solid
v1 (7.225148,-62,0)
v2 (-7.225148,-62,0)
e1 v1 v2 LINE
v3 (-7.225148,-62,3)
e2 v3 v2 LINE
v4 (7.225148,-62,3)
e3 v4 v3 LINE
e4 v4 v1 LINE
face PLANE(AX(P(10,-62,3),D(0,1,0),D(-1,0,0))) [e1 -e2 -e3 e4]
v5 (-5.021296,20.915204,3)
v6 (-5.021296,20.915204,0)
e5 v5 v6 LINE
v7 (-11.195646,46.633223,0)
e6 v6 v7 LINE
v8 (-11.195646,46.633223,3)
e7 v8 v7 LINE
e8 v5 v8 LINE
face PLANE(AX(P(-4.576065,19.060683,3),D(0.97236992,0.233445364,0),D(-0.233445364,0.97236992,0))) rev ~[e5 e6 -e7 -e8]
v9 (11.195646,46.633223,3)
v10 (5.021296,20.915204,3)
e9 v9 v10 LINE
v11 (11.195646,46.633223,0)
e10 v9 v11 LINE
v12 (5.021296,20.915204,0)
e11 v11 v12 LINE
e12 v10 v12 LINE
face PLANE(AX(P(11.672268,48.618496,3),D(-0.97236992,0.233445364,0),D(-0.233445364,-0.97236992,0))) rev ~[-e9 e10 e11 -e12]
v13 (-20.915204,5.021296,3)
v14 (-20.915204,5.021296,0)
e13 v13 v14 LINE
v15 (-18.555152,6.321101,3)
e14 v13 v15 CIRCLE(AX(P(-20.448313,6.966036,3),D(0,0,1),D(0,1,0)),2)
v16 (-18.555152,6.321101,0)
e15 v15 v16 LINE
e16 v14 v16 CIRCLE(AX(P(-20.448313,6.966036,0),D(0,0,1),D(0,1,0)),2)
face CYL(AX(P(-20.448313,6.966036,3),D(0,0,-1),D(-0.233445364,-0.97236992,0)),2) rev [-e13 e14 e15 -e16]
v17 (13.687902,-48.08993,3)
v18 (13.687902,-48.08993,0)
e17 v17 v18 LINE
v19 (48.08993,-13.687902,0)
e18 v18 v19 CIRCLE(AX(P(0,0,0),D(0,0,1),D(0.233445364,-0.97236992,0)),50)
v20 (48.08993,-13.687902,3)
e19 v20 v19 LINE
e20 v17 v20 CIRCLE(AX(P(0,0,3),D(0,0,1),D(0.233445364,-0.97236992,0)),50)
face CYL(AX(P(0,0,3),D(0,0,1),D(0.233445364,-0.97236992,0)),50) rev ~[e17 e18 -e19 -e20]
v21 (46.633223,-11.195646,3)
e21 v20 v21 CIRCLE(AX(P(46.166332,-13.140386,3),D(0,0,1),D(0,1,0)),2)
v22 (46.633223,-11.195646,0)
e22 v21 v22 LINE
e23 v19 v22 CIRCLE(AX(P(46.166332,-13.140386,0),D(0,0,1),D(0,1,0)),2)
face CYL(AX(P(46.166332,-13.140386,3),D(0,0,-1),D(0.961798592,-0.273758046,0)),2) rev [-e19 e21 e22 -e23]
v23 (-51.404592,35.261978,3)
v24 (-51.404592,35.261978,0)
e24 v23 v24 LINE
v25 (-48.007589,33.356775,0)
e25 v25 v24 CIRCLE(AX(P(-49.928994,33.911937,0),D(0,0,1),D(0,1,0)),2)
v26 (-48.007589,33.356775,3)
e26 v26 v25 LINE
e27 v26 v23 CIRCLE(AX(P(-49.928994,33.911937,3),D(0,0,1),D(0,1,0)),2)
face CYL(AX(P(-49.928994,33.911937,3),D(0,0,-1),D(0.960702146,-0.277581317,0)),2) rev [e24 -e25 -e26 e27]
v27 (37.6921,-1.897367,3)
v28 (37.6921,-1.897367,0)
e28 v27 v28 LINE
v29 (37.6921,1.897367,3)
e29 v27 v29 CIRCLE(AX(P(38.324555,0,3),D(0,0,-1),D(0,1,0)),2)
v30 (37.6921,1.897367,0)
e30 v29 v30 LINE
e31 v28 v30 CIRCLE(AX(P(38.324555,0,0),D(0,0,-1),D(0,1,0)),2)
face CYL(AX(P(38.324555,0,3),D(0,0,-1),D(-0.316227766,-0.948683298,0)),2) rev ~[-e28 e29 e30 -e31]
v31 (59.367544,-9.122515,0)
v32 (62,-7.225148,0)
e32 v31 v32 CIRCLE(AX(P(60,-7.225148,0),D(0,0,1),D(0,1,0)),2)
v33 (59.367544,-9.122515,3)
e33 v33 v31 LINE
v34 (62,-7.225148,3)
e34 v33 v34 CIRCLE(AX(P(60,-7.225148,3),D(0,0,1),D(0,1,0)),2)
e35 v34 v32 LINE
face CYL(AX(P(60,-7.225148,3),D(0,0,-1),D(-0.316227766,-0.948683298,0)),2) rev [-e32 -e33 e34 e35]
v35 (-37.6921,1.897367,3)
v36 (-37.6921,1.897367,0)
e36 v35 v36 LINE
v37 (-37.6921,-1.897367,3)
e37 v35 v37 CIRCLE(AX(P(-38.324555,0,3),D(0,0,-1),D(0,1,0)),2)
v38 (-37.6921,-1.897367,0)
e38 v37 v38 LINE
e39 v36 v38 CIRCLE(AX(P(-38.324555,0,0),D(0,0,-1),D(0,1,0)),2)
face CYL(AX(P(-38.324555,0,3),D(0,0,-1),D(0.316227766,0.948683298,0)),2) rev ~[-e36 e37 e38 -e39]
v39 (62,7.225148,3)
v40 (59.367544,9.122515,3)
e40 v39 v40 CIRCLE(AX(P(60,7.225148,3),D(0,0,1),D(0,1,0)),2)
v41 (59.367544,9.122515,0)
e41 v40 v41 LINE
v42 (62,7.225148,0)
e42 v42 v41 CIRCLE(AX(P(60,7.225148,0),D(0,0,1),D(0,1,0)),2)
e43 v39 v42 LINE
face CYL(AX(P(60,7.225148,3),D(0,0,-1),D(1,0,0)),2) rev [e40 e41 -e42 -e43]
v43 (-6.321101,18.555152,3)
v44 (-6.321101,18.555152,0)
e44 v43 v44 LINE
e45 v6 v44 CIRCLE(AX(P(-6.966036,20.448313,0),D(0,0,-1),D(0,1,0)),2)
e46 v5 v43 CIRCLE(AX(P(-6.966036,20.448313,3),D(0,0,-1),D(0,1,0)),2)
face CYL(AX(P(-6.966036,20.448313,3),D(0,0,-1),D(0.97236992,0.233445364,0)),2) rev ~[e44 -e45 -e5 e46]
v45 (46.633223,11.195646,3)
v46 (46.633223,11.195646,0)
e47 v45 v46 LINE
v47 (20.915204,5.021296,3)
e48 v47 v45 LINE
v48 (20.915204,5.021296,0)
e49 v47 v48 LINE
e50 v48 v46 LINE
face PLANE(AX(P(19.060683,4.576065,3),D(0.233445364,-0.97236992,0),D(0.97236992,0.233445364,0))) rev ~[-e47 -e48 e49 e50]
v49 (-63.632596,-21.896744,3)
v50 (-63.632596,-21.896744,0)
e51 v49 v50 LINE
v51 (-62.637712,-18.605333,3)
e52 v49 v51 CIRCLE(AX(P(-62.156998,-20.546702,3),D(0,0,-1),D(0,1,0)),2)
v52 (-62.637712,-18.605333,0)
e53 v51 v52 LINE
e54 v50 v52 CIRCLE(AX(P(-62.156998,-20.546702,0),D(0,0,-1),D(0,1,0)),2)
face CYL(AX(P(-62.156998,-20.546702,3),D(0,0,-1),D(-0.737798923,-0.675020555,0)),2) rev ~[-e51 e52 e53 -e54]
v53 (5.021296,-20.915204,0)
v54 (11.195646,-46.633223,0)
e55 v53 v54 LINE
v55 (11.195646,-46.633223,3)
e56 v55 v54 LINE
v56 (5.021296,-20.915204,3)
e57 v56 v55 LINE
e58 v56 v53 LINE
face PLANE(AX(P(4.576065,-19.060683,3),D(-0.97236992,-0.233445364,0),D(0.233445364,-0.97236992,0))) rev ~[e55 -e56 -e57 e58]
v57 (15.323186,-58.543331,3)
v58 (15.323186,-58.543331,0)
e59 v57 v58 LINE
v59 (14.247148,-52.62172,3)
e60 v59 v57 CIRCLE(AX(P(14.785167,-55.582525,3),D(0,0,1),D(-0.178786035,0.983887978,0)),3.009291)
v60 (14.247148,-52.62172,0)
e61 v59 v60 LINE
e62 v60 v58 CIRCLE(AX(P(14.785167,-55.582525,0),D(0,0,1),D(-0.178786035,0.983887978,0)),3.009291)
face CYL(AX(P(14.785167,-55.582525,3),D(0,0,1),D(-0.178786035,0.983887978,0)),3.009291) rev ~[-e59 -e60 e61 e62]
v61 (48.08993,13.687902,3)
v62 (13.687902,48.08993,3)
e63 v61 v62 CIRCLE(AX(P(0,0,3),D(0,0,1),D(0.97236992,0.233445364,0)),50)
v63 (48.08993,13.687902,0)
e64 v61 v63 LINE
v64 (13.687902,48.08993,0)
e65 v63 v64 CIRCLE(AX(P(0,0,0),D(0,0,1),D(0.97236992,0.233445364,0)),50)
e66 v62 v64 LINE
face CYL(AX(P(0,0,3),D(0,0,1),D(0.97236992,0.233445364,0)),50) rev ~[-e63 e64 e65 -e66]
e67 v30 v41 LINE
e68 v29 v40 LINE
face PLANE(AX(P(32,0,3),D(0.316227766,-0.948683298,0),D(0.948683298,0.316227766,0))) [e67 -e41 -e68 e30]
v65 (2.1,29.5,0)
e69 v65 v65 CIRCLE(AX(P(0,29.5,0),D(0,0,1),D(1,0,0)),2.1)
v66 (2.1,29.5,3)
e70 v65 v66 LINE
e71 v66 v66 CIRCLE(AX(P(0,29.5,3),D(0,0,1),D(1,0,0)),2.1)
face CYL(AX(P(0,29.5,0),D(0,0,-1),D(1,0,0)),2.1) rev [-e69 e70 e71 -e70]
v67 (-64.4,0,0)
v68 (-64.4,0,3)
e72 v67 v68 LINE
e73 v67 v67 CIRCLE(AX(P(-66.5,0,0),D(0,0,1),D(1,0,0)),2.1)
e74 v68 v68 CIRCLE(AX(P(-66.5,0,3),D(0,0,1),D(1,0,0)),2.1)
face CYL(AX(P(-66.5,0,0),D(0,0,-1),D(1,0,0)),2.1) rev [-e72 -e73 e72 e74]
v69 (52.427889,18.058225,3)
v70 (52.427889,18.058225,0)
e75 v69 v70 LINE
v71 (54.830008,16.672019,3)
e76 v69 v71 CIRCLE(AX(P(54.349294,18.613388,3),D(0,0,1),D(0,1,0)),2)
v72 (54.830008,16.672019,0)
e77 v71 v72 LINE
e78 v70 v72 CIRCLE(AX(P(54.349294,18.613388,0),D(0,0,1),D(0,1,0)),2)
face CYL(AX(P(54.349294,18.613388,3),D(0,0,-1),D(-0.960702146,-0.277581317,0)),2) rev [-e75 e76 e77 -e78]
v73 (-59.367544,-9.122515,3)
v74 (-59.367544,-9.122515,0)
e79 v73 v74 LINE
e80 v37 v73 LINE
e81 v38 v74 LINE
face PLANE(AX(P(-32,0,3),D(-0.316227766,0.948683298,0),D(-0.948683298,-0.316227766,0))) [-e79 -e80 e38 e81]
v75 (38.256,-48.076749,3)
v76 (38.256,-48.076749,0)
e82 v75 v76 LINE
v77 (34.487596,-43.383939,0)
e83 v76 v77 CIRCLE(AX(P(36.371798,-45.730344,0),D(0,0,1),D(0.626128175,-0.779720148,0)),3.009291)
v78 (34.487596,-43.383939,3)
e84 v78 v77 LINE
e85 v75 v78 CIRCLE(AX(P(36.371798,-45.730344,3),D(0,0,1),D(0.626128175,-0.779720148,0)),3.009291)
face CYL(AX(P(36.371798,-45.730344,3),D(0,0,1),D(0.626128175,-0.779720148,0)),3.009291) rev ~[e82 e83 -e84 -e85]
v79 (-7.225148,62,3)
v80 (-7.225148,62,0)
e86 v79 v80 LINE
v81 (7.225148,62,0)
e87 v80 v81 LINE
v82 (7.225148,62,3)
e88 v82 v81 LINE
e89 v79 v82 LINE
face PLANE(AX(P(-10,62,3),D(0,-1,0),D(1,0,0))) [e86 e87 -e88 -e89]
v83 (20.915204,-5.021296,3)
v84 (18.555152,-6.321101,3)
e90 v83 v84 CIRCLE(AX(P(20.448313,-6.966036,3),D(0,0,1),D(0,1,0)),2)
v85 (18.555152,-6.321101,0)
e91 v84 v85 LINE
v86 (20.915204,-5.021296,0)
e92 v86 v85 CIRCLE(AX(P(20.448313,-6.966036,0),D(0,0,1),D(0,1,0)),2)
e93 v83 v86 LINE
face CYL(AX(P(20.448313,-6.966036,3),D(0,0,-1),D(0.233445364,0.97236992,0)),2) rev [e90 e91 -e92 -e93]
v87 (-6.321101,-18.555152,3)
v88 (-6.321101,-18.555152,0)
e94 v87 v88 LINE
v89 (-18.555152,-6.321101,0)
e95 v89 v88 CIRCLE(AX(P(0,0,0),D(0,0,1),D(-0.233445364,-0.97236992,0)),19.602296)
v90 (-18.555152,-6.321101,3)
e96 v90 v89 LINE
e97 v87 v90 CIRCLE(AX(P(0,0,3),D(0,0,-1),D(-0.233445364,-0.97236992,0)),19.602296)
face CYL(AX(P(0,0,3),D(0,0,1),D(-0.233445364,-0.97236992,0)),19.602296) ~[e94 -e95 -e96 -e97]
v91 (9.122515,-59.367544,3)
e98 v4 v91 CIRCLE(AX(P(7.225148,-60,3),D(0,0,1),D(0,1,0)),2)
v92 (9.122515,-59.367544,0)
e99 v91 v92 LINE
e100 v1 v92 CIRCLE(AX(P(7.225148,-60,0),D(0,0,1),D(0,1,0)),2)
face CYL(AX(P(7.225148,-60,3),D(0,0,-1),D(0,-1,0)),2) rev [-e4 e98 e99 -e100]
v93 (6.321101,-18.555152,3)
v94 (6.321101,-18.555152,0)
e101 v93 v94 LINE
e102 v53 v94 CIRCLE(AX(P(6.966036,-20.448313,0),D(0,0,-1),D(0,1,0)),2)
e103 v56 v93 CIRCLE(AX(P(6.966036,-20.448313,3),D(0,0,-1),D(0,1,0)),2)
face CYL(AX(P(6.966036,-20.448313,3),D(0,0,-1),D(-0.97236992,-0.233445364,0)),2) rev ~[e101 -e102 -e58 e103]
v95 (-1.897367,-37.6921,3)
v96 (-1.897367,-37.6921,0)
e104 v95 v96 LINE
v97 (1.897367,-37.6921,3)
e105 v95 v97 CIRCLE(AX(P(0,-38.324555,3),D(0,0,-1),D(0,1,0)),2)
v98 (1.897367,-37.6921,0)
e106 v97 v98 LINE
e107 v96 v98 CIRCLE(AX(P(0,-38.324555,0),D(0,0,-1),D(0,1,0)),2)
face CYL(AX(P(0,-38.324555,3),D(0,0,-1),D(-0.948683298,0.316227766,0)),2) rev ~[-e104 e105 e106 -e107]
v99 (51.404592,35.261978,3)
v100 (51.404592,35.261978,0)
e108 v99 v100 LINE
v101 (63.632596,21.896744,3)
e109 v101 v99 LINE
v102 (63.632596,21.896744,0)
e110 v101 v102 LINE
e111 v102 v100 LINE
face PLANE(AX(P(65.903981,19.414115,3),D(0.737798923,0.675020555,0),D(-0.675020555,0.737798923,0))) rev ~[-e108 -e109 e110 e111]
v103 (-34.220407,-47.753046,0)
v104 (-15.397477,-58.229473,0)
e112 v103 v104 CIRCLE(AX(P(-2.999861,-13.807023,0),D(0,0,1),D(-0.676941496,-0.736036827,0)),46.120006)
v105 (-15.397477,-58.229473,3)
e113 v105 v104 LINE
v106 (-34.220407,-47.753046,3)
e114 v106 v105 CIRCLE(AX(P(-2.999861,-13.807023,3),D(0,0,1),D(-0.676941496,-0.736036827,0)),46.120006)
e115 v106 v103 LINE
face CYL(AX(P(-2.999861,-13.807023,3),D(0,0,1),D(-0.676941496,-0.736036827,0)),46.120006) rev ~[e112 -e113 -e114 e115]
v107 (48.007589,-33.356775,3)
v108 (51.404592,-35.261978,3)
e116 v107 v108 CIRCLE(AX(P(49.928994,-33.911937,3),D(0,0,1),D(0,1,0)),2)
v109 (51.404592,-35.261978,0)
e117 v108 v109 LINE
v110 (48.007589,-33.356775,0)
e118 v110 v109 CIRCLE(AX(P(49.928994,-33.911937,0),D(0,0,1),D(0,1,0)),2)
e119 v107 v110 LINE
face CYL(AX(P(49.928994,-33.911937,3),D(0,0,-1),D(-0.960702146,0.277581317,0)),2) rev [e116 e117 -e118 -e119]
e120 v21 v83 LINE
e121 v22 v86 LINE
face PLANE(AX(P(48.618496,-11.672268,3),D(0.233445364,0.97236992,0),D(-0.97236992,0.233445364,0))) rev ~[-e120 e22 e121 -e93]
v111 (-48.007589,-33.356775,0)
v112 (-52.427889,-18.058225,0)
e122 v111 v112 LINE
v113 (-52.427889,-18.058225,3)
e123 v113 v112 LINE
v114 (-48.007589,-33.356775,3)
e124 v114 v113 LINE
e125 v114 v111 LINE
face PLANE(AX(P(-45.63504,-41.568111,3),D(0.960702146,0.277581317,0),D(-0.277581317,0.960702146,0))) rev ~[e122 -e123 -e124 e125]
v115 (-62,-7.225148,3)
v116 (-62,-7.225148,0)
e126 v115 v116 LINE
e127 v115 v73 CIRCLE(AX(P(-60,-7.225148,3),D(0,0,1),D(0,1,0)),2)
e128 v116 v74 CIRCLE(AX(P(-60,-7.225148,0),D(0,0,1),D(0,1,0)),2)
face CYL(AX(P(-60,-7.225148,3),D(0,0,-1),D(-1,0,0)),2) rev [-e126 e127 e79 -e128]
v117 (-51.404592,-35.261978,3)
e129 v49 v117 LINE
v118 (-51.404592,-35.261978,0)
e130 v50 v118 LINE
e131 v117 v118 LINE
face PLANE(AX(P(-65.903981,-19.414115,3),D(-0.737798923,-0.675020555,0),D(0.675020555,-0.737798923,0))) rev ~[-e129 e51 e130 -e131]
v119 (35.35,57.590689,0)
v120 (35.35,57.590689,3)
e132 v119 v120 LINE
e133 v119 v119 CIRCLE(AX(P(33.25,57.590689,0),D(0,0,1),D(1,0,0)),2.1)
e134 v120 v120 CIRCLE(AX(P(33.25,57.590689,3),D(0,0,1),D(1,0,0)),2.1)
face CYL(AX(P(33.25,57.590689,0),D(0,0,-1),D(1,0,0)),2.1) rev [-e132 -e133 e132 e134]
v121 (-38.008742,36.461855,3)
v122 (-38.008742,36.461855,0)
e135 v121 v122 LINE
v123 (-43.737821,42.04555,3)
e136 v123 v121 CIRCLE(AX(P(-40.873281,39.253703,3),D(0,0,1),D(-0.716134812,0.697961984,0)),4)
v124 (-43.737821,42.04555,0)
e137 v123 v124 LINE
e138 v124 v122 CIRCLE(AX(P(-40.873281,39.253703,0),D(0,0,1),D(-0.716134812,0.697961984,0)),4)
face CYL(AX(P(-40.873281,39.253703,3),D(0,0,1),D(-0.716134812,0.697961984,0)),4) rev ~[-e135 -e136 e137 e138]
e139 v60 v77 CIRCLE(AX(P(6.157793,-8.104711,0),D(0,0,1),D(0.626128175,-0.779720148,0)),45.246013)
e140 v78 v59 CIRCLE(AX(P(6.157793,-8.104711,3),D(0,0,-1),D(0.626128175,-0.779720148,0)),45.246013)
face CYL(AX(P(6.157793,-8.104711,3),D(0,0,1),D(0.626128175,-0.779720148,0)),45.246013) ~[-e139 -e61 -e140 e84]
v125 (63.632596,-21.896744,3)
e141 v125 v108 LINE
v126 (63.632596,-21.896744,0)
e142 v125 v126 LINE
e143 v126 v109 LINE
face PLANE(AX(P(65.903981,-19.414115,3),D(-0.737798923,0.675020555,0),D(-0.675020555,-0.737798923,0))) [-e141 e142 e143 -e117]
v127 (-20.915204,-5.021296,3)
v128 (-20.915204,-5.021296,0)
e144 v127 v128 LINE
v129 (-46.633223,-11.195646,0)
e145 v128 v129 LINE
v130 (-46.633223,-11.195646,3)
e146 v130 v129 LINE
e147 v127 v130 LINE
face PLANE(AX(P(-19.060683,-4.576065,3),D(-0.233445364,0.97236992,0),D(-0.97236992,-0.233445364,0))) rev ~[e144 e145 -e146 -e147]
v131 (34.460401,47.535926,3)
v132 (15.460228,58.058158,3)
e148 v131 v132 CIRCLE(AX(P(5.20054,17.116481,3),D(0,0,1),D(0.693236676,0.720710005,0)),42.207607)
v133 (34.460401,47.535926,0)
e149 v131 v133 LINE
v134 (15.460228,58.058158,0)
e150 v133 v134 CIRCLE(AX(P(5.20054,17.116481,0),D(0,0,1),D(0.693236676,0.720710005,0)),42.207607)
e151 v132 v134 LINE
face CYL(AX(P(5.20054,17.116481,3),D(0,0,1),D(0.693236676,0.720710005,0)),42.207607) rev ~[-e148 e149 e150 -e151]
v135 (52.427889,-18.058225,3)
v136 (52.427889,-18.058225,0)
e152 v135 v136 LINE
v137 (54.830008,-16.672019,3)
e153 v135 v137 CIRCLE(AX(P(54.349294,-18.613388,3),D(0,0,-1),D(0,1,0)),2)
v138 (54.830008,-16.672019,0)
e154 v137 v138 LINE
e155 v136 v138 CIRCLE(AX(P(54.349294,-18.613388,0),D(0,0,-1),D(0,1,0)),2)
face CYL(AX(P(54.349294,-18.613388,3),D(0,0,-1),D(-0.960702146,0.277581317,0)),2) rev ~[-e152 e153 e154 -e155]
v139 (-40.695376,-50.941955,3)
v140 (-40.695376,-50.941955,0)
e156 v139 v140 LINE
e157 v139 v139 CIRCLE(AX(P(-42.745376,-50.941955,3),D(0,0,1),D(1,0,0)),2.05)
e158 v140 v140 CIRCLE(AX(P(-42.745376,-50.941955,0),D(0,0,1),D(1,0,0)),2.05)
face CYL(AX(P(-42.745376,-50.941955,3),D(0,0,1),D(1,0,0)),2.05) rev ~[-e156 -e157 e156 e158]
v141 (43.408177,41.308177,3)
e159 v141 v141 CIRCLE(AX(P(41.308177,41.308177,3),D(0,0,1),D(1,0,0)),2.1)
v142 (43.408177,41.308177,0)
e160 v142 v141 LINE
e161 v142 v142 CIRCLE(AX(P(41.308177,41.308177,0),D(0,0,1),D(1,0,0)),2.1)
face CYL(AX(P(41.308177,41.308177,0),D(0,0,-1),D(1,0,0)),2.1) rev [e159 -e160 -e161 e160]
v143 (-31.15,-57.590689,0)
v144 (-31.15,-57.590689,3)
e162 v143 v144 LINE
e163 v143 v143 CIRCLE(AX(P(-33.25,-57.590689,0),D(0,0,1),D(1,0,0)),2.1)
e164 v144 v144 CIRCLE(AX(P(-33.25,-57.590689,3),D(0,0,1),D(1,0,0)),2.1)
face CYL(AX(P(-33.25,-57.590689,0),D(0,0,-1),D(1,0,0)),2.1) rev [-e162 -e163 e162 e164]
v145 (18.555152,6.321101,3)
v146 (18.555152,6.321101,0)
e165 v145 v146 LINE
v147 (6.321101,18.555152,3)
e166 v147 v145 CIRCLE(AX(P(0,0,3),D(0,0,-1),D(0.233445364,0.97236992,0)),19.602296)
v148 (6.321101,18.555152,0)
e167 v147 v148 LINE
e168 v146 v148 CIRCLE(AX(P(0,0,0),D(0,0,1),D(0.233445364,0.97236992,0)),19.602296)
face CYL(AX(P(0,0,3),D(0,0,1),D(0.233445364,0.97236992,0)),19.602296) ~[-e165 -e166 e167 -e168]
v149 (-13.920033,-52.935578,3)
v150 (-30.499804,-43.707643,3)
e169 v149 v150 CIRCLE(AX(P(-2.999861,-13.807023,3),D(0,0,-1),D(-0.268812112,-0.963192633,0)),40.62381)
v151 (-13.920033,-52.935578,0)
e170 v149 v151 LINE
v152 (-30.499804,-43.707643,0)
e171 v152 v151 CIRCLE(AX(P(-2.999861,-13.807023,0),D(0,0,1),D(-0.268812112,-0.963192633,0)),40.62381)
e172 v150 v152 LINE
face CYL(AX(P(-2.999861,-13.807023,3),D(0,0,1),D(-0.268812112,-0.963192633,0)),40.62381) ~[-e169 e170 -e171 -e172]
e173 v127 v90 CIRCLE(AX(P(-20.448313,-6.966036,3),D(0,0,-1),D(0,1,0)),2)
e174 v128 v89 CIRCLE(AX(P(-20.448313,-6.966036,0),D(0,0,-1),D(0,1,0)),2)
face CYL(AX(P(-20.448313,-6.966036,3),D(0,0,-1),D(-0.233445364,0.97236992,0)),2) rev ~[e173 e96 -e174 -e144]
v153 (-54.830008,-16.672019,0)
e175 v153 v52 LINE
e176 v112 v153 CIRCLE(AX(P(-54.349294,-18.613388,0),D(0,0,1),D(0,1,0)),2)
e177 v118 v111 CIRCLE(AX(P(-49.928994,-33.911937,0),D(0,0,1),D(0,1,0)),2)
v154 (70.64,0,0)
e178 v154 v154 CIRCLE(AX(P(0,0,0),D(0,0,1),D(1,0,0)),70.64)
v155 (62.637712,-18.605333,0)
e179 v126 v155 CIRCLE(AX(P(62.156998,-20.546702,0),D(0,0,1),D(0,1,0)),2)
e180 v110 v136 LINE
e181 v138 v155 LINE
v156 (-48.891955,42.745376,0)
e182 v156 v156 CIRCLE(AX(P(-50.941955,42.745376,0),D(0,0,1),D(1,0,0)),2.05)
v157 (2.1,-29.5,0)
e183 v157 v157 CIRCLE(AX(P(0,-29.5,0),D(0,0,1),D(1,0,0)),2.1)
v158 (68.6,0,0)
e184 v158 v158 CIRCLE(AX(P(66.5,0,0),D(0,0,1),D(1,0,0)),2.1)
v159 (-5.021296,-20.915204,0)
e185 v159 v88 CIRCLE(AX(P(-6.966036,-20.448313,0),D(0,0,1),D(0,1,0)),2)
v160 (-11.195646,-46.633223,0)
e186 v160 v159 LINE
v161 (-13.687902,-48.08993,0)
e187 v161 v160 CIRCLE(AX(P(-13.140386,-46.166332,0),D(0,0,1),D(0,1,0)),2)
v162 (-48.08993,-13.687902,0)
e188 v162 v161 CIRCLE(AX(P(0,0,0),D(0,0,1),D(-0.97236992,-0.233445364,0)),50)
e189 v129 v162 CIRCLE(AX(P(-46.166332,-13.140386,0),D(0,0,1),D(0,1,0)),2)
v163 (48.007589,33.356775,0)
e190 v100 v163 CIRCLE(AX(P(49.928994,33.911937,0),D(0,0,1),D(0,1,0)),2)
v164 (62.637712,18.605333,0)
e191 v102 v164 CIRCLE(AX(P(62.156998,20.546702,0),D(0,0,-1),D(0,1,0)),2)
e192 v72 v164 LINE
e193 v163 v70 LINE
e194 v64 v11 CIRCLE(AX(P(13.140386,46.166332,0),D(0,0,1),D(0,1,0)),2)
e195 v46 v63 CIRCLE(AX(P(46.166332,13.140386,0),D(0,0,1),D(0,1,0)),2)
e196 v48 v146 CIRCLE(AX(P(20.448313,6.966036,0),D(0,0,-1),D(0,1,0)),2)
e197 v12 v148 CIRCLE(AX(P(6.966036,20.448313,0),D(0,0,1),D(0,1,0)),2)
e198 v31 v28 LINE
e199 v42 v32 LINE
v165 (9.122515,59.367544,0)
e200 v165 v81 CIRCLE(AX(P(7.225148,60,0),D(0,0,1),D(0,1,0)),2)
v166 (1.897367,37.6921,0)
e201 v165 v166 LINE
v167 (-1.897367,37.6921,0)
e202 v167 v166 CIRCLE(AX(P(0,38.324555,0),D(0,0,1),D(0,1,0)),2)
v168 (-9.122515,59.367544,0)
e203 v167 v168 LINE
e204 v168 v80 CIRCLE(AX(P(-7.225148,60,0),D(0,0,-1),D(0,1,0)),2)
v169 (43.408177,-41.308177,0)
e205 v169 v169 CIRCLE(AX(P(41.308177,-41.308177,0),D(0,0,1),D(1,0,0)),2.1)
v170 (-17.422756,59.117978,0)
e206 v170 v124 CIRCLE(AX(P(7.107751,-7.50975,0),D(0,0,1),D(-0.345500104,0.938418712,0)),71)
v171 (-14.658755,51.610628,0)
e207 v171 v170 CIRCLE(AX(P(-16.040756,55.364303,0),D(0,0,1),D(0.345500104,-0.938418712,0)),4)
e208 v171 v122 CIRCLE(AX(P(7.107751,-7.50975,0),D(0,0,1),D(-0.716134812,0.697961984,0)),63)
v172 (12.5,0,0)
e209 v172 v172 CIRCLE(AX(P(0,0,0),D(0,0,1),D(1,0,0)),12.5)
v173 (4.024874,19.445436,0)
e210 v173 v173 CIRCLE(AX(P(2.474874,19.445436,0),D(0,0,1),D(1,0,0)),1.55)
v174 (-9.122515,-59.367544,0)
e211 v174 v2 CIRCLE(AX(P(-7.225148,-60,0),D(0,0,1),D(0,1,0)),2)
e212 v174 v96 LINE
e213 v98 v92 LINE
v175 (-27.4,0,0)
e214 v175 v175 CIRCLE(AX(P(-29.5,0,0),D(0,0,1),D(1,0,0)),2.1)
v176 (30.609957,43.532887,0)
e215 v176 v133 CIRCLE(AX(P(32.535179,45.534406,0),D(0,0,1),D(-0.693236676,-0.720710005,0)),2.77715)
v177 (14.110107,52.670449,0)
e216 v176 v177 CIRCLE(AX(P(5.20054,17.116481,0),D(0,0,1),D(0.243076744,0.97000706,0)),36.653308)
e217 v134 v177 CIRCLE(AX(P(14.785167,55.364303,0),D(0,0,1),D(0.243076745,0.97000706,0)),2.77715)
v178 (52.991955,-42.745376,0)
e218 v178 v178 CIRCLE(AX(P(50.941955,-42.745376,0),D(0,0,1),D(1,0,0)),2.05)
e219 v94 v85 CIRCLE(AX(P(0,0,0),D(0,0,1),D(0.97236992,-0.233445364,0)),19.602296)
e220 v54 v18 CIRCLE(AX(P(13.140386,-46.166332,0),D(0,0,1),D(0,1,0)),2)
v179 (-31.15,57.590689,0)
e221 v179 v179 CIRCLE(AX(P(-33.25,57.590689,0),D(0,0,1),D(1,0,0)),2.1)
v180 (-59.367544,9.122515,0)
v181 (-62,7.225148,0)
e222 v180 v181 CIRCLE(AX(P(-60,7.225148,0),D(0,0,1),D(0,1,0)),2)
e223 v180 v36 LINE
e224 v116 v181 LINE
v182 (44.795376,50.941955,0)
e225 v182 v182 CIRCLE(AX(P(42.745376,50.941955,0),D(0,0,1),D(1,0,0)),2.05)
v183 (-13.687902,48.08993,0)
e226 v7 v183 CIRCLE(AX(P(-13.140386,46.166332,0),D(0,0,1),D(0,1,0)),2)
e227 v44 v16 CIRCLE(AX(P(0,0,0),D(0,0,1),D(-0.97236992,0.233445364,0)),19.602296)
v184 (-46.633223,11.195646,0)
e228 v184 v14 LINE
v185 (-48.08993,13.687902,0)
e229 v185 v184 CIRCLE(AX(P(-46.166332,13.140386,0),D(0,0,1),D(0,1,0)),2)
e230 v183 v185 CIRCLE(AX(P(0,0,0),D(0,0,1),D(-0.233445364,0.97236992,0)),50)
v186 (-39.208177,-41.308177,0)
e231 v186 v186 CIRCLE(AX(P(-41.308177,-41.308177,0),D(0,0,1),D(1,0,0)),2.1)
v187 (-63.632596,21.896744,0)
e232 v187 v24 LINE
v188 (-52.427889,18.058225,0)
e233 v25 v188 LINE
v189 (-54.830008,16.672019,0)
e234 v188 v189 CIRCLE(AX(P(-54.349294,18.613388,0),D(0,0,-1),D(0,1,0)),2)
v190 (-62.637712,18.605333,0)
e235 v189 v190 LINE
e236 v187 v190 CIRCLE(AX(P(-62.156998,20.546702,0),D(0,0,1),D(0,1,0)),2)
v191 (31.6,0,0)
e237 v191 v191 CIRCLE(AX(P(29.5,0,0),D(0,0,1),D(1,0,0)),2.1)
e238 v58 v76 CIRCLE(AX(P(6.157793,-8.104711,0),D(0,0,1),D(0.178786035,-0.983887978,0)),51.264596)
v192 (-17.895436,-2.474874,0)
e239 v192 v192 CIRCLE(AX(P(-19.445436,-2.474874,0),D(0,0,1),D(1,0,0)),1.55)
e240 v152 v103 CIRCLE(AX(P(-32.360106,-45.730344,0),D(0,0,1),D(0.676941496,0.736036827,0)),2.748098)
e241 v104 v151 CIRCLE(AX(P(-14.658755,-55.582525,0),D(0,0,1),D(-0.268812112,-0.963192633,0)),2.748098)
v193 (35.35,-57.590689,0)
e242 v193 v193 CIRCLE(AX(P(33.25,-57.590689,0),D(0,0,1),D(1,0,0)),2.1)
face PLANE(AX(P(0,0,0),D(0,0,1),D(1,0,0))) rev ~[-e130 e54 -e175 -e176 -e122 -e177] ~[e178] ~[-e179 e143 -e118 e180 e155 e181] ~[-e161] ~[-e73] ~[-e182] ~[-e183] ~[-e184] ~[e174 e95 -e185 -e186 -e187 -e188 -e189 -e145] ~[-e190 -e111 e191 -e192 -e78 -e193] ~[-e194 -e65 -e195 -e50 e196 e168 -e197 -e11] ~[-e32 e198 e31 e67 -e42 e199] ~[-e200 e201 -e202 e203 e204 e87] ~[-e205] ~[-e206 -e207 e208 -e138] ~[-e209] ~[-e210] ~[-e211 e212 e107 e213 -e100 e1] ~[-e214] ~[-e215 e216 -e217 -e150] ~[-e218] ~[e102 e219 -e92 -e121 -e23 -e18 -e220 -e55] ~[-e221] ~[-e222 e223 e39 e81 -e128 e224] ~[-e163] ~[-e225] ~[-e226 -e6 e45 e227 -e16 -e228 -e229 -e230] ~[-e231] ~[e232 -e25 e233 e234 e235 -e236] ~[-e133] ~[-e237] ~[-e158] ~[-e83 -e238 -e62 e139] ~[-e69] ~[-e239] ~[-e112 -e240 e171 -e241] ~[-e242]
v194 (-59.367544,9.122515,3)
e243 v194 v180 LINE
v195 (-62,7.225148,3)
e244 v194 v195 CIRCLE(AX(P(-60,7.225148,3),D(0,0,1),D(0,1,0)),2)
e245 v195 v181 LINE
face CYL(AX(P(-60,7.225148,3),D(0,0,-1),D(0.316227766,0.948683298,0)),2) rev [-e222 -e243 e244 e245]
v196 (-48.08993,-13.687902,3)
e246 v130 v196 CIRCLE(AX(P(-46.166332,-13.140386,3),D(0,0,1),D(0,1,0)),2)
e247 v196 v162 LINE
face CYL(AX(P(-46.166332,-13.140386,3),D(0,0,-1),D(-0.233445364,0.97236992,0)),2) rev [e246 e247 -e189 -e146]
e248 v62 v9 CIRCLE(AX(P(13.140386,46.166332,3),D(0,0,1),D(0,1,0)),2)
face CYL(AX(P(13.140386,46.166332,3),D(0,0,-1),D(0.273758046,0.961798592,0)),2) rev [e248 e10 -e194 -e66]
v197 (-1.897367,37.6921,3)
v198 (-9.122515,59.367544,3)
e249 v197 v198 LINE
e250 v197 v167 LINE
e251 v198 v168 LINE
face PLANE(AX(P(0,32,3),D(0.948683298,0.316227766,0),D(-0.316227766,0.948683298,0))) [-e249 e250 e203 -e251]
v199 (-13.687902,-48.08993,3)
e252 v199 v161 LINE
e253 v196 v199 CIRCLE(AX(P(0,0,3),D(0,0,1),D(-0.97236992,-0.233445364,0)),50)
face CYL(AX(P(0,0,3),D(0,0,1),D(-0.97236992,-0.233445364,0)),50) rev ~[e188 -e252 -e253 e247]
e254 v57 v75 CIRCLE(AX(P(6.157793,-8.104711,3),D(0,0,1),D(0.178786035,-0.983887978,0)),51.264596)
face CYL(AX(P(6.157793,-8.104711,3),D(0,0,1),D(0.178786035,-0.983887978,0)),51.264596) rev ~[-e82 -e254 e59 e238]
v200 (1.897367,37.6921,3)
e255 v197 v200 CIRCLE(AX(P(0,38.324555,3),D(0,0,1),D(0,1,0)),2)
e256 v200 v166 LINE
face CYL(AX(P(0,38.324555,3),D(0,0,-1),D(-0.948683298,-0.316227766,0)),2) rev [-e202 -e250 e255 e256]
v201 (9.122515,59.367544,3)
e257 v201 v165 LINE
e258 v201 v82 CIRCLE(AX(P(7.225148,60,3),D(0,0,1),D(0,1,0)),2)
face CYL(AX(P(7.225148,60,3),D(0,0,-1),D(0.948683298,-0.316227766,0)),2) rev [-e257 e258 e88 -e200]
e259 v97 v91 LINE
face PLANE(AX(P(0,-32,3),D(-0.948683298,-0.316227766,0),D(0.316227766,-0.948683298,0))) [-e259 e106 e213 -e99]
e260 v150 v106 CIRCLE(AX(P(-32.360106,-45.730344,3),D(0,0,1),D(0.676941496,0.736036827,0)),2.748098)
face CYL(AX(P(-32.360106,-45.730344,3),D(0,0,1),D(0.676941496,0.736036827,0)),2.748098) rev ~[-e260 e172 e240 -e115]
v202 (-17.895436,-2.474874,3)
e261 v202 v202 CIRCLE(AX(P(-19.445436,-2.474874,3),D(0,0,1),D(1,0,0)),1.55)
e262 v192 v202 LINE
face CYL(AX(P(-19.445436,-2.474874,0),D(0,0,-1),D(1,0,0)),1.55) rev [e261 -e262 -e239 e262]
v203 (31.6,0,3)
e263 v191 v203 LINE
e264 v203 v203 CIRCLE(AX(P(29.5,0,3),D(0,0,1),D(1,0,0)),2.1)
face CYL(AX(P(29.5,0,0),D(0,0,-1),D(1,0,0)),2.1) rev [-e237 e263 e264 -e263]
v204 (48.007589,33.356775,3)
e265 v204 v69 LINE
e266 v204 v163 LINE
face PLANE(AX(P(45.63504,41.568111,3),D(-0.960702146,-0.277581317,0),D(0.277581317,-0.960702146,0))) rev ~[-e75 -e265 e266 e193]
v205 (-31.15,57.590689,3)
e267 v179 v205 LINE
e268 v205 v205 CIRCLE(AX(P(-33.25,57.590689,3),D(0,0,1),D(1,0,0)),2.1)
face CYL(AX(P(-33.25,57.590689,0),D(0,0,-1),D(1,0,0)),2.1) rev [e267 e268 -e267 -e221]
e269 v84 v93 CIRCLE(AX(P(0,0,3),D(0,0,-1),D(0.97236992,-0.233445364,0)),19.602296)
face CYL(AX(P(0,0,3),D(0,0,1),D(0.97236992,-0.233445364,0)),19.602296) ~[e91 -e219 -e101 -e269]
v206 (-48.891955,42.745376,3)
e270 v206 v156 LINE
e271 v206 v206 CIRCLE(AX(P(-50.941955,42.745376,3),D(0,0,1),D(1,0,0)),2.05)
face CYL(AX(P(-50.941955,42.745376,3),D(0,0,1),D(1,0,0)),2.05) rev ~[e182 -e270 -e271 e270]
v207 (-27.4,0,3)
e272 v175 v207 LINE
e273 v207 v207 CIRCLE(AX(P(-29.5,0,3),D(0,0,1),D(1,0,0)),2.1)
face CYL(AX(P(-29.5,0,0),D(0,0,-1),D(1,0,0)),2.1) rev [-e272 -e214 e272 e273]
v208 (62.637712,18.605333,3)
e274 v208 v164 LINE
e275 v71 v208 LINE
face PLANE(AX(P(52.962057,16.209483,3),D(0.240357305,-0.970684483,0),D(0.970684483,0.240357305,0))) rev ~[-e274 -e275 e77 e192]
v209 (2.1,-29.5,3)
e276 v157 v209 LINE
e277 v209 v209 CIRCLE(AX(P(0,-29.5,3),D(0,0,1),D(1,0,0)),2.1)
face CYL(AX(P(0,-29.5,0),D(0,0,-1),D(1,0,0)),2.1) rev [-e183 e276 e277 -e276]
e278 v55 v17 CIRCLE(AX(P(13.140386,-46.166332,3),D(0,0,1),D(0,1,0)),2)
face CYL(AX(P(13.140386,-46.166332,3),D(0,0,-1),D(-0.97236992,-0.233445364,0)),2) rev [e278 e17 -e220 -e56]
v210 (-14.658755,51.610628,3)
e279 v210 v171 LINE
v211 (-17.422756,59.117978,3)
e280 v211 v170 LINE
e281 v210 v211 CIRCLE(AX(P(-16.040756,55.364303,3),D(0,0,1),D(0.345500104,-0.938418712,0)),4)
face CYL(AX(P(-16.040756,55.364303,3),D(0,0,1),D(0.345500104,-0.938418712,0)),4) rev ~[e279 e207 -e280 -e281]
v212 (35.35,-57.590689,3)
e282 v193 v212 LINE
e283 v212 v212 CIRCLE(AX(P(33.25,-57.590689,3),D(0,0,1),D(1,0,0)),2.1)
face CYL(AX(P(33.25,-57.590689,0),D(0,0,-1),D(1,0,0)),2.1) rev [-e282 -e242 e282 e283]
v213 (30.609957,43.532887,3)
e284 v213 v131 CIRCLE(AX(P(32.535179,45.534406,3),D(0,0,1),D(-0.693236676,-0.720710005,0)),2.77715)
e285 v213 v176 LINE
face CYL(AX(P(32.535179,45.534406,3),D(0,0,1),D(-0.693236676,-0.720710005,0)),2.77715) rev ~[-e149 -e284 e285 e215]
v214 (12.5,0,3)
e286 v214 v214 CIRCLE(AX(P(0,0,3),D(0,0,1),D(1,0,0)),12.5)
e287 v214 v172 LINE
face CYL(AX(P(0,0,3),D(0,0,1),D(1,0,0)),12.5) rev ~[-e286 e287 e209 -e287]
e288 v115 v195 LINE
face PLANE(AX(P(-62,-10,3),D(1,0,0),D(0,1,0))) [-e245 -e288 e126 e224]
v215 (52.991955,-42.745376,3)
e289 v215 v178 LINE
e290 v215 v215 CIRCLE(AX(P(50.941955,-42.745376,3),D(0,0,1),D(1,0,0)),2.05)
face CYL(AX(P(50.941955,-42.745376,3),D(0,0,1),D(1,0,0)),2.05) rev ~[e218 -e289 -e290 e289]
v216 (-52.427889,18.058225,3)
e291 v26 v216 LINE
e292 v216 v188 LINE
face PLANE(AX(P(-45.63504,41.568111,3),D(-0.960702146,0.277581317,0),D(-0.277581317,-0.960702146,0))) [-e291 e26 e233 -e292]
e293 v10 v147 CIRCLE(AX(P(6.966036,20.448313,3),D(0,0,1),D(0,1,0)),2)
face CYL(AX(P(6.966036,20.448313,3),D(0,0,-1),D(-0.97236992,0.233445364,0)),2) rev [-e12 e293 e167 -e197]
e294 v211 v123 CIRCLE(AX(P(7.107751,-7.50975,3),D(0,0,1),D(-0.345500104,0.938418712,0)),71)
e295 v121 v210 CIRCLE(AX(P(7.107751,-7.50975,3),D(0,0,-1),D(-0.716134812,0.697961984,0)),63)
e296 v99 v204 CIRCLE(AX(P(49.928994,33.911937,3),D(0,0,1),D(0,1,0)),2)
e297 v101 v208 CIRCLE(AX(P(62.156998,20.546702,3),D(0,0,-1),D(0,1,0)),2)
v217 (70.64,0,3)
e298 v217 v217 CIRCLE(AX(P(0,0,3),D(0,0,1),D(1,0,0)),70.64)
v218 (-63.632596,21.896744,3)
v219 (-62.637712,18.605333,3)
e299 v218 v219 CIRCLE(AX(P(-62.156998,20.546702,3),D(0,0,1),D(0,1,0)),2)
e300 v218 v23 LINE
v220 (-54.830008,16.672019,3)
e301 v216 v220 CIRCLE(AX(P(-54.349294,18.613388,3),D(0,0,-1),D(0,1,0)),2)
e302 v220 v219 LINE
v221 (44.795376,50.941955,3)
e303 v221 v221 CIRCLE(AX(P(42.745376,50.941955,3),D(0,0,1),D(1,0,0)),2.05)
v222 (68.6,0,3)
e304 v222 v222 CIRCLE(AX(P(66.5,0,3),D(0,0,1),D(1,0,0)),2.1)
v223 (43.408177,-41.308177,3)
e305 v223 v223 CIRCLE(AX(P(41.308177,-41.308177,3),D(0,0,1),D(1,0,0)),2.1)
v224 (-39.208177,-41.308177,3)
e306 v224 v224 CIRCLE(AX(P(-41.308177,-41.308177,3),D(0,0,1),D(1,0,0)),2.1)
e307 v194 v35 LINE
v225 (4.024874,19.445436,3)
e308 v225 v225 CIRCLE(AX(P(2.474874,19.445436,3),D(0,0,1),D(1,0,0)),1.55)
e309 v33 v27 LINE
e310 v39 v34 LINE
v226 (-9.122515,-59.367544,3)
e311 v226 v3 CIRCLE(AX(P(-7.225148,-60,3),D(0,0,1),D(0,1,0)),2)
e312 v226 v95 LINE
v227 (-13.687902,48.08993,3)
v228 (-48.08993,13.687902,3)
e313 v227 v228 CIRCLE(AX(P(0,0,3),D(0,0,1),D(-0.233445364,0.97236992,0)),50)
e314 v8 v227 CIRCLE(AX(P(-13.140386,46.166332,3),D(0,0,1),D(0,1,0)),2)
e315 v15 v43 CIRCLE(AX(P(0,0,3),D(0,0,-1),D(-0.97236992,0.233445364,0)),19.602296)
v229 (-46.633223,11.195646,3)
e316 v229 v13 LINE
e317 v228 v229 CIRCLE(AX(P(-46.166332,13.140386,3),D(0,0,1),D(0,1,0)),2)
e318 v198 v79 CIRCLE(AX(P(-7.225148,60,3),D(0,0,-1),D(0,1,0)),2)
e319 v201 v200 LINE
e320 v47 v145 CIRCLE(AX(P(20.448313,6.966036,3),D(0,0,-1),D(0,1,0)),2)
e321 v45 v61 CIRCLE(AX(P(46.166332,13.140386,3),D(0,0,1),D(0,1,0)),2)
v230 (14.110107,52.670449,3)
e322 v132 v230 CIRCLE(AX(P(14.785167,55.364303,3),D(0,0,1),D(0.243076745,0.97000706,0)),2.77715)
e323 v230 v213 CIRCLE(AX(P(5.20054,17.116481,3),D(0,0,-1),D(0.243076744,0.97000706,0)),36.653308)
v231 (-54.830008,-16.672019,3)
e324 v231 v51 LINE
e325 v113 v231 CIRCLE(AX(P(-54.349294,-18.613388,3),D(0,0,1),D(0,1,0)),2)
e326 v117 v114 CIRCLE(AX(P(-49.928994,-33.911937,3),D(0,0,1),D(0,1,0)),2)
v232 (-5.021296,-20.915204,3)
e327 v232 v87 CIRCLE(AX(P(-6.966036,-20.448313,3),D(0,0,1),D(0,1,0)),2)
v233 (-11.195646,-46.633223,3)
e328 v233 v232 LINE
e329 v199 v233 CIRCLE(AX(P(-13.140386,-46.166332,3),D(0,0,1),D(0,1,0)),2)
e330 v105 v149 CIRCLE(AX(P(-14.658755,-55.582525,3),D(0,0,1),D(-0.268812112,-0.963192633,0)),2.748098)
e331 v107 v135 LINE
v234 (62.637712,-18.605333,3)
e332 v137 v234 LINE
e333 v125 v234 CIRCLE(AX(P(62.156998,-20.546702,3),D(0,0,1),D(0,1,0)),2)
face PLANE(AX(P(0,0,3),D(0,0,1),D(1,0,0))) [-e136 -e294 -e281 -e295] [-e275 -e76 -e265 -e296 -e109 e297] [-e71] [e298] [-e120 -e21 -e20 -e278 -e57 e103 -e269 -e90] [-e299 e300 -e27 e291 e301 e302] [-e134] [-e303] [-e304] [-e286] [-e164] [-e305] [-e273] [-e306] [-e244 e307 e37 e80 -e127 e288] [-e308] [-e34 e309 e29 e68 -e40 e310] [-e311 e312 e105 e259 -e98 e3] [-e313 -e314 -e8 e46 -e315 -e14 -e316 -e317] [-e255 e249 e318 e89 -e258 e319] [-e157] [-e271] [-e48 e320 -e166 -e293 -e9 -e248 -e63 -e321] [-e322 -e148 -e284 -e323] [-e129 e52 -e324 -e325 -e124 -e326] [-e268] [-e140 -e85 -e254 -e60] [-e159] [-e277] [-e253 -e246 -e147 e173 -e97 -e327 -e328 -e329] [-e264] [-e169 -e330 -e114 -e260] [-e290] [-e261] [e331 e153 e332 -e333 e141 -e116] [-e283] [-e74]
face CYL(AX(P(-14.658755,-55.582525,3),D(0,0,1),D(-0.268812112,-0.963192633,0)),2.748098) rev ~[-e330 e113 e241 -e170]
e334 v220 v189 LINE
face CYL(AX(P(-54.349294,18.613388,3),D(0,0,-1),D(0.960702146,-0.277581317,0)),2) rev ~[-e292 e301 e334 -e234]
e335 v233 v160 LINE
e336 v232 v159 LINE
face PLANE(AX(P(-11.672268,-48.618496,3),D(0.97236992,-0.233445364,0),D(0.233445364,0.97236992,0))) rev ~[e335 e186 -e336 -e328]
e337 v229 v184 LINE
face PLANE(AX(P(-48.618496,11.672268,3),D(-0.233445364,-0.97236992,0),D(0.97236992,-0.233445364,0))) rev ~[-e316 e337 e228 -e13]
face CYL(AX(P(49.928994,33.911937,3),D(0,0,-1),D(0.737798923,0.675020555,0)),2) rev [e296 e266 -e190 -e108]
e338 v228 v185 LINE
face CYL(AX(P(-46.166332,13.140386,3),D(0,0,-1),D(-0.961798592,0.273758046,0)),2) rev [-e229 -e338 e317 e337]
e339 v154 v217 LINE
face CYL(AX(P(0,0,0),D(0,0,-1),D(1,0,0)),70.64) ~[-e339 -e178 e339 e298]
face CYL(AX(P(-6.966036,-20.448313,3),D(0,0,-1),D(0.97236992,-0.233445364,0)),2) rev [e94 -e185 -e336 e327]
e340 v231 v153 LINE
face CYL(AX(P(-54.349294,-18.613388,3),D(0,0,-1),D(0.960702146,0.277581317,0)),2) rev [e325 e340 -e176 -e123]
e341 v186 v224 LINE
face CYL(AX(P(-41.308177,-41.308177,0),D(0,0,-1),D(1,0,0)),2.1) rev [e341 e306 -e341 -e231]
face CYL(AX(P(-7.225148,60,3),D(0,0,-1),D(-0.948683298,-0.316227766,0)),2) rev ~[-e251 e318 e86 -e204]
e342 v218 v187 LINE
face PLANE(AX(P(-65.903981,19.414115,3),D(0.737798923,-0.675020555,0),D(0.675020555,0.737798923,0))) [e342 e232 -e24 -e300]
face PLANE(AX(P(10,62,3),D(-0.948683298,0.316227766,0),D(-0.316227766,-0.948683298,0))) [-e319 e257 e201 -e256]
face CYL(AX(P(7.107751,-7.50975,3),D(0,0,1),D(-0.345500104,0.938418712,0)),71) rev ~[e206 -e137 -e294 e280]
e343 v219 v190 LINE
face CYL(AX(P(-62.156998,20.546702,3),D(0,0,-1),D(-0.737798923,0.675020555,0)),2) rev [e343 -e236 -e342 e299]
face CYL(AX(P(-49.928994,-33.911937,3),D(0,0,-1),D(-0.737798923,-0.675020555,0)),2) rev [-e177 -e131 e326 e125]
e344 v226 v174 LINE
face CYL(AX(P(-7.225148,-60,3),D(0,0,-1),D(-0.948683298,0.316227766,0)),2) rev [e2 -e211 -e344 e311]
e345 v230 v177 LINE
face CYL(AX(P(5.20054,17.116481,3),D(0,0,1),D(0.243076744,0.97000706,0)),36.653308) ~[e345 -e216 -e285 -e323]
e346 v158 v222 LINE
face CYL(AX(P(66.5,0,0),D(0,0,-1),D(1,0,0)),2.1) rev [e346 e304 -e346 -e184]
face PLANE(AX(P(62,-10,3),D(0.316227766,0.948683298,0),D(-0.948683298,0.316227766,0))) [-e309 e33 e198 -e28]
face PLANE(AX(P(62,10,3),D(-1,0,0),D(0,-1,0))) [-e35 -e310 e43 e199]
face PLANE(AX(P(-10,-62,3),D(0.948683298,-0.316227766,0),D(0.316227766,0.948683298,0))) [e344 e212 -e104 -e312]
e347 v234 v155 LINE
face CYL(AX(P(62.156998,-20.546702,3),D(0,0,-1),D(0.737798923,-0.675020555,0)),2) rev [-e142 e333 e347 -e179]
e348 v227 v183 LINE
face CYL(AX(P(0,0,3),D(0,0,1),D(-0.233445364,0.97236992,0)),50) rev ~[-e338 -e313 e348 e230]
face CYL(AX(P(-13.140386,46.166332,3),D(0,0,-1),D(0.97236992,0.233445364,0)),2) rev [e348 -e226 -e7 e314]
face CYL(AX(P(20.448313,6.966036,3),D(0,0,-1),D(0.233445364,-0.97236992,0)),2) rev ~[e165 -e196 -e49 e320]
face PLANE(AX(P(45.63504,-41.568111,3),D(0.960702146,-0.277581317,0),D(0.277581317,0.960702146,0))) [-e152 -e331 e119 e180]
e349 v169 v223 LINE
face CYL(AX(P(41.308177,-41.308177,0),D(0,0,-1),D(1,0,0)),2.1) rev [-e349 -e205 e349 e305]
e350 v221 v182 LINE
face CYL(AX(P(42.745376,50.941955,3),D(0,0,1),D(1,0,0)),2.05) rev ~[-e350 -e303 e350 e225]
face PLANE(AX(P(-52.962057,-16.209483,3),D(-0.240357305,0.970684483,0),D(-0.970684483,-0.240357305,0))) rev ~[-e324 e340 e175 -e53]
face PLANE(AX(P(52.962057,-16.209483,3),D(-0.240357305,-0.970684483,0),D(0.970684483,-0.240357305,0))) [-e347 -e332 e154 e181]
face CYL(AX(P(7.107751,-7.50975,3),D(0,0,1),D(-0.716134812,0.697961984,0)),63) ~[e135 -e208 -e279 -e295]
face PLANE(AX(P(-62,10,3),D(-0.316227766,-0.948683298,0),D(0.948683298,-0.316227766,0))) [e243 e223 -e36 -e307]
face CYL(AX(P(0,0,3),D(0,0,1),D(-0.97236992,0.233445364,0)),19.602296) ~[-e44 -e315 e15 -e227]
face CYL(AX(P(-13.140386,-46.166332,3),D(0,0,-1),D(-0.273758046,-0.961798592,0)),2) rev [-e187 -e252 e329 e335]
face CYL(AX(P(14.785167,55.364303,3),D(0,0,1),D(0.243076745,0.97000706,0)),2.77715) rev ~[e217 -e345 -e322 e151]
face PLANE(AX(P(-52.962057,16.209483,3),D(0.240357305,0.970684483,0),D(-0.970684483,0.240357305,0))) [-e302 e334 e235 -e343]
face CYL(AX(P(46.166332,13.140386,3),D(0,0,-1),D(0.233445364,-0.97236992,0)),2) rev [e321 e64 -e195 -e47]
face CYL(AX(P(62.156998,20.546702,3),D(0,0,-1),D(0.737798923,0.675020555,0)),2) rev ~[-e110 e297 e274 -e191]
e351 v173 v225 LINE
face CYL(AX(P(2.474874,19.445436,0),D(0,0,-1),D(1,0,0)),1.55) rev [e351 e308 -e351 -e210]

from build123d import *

# Parameters (mm, degrees)
SKETCH_1_R          = 70.64
SKETCH_1_R_2        = 2.1
SKETCH_1_R_3        = 1.55
EXTRUDE_1_DEPTH     = 3
SKETCH_2_R          = 12.5
CUT_EXTRUDE_1_DEPTH = 100.945080919
SKETCH_5_R          = 2.05
CUT_EXTRUDE_2_DEPTH = 100.945080919
CUT_EXTRUDE_3_DEPTH = 100.945080919
FILLET_1_R          = 2
CUT_EXTRUDE_4_DEPTH = 100.945080919


with BuildPart() as part:
    # 草图1 → 凸台-拉伸1 (new body)
    with BuildSketch(Plane.XY):
        Circle(SKETCH_1_R)
        with Locations((41.308177097, 41.308177097)):
            Circle(SKETCH_1_R_2, mode=Mode.SUBTRACT)
        with Locations((33.25, 57.590689352)):
            Circle(SKETCH_1_R_2, mode=Mode.SUBTRACT)
        with Locations((66.5, 0)):
            Circle(SKETCH_1_R_2, mode=Mode.SUBTRACT)
        with Locations((33.25, -57.590689352)):
            Circle(SKETCH_1_R_2, mode=Mode.SUBTRACT)
        with Locations((-33.25, -57.590689352)):
            Circle(SKETCH_1_R_2, mode=Mode.SUBTRACT)
        with Locations((-66.5, 0)):
            Circle(SKETCH_1_R_2, mode=Mode.SUBTRACT)
        with Locations((-33.25, 57.590689352)):
            Circle(SKETCH_1_R_2, mode=Mode.SUBTRACT)
        with Locations((41.308177097, -41.308177097)):
            Circle(SKETCH_1_R_2, mode=Mode.SUBTRACT)
        with Locations((-41.308177097, -41.308177097)):
            Circle(SKETCH_1_R_2, mode=Mode.SUBTRACT)
        with Locations((0, -29.5)):
            Circle(SKETCH_1_R_2, mode=Mode.SUBTRACT)
        with Locations((-29.5, 0)):
            Circle(SKETCH_1_R_2, mode=Mode.SUBTRACT)
        with Locations((0, 29.5)):
            Circle(SKETCH_1_R_2, mode=Mode.SUBTRACT)
        with Locations((29.5, 0)):
            Circle(SKETCH_1_R_2, mode=Mode.SUBTRACT)
        with Locations((2.474873734, 19.445436483)):
            Circle(SKETCH_1_R_3, mode=Mode.SUBTRACT)
        with Locations((-19.445436483, -2.474873734)):
            Circle(SKETCH_1_R_3, mode=Mode.SUBTRACT)
    extrude(amount=EXTRUDE_1_DEPTH)

    # 草图2 → 切除-拉伸1 (cut, through all)
    with BuildSketch(Plane.XY.offset(3)):
        Circle(SKETCH_2_R)
    extrude(amount=-CUT_EXTRUDE_1_DEPTH, mode=Mode.SUBTRACT)

    # 草图5 → 切除-拉伸2 (cut, through all)
    with BuildSketch(Plane.XY.offset(3)):
        with Locations((-50.941955467, 42.745376044)):
            Circle(SKETCH_5_R)
        with Locations((42.745376044, 50.941955467)):
            Circle(SKETCH_5_R)
        with Locations((50.941955467, -42.745376044)):
            Circle(SKETCH_5_R)
        with Locations((-42.745376044, -50.941955467)):
            Circle(SKETCH_5_R)
    extrude(amount=-CUT_EXTRUDE_2_DEPTH, mode=Mode.SUBTRACT)

    # 草图6 → 切除-拉伸3 (cut, through all)
    with BuildSketch(Plane.XY.offset(3)):
        with BuildLine():
            Line((-4.576065072, 19.060682791), (-11.672268193, 48.61849602))
            ThreePointArc((-11.672268193, 48.61849602), (-35.355339059, 35.355339059), (-48.61849602, 11.672268193))
            Line((-48.61849602, 11.672268193), (-19.060682791, 4.576065072))
            ThreePointArc((-19.060682791, 4.576065072), (-13.860916276, 13.860916276), (-4.576065072, 19.060682791))
        make_face()
        with BuildLine():
            Line((19.060682791, 4.576065072), (48.61849602, 11.672268193))
            ThreePointArc((48.61849602, 11.672268193), (35.355339059, 35.355339059), (11.672268193, 48.61849602))
            Line((11.672268193, 48.61849602), (4.576065072, 19.060682791))
            ThreePointArc((4.576065072, 19.060682791), (13.860916276, 13.860916276), (19.060682791, 4.576065072))
        make_face()
        with BuildLine():
            Line((4.576065072, -19.060682791), (11.672268193, -48.61849602))
            ThreePointArc((11.672268193, -48.61849602), (35.355339059, -35.355339059), (48.61849602, -11.672268193))
            Line((48.61849602, -11.672268193), (19.060682791, -4.576065072))
            ThreePointArc((19.060682791, -4.576065072), (13.860916276, -13.860916276), (4.576065072, -19.060682791))
        make_face()
        with BuildLine():
            Line((-19.060682791, -4.576065072), (-48.61849602, -11.672268193))
            ThreePointArc((-48.61849602, -11.672268193), (-35.355339059, -35.355339059), (-11.672268193, -48.61849602))
            Line((-11.672268193, -48.61849602), (-4.576065072, -19.060682791))
            ThreePointArc((-4.576065072, -19.060682791), (-13.860916276, -13.860916276), (-19.060682791, -4.576065072))
        make_face()
        Polygon((-10, 62), (10, 62), (0, 32), align=None)
        Polygon((32, 0), (62, 10), (62, -10), align=None)
        Polygon((0, -32), (10, -62), (-10, -62), align=None)
        Polygon((-32, 0), (-62, -10), (-62, 10), align=None)
        Polygon((52.962057119, -16.209483435), (65.903980805, -19.41411476), (45.635039833, -41.568110983), align=None)
        Polygon((65.903980805, 19.41411476), (45.635039833, 41.568110983), (52.962057119, 16.209483435), align=None)
        Polygon((-52.962057119, 16.209483435), (-65.903980805, 19.41411476), (-45.635039833, 41.568110983), align=None)
        Polygon((-65.903980805, -19.41411476), (-45.635039833, -41.568110983), (-52.962057119, -16.209483435), align=None)
    extrude(amount=-CUT_EXTRUDE_3_DEPTH, mode=Mode.SUBTRACT)

    # 圆角1
    fillet_1_edges = [part.edges().sort_by_distance(p)[0] for p in [
        (45.635039833, -41.568110983, 1.5),
        (52.962057119, -16.209483435, 1.5),
        (65.903980805, -19.41411476, 1.5),
        (65.903980805, 19.41411476, 1.5),
        (52.962057119, 16.209483435, 1.5),
        (45.635039833, 41.568110983, 1.5),
        (62, 10, 1.5),
        (62, -10, 1.5),
        (32, 0, 1.5),
        (10, -62, 1.5),
        (-10, -62, 1.5),
        (0, -32, 1.5),
        (-19.060682791, -4.576065072, 1.5),
        (-4.576065072, -19.060682791, 1.5),
        (-11.672268193, -48.61849602, 1.5),
        (-48.61849602, -11.672268193, 1.5),
        (4.576065072, -19.060682791, 1.5),
        (19.060682791, -4.576065072, 1.5),
        (48.61849602, -11.672268193, 1.5),
        (11.672268193, -48.61849602, 1.5),
        (19.060682791, 4.576065072, 1.5),
        (4.576065072, 19.060682791, 1.5),
        (11.672268193, 48.61849602, 1.5),
        (48.61849602, 11.672268193, 1.5),
        (-4.576065072, 19.060682791, 1.5),
        (-19.060682791, 4.576065072, 1.5),
        (-48.61849602, 11.672268193, 1.5),
        (-11.672268193, 48.61849602, 1.5),
        (-62, -10, 1.5),
        (-62, 10, 1.5),
        (-32, 0, 1.5),
        (-45.635039833, 41.568110983, 1.5),
        (-52.962057119, 16.209483435, 1.5),
        (-65.903980805, 19.41411476, 1.5),
        (-65.903980805, -19.41411476, 1.5),
        (-52.962057119, -16.209483435, 1.5),
        (-45.635039833, -41.568110983, 1.5),
        (0, 32, 1.5),
        (-10, 62, 1.5),
        (10, 62, 1.5),
    ]]
    fillet(fillet_1_edges, radius=FILLET_1_R)

    # 草图7 → 切除-拉伸4 (cut, through all)
    with BuildSketch(Plane.XY.offset(3)):
        with BuildLine():
            ThreePointArc((-17.422756273, 59.11797816), (-31.534910164, 52.05319727), (-43.737820568, 42.045550485))
            ThreePointArc((-43.737820568, 42.045550485), (-43.665129254, 36.389163301), (-38.008742071, 36.461854615))
            ThreePointArc((-38.008742071, 36.461854615), (-27.180807487, 45.341879226), (-14.658755443, 51.610628467))
            ThreePointArc((-14.658755443, 51.610628467), (-12.287081012, 56.746303729), (-17.422756273, 59.11797816))
        make_face()
        with BuildLine():
            ThreePointArc((34.460401115, 47.535925761), (25.648718973, 54.040105851), (15.460227519, 58.058157956))
            ThreePointArc((15.460227519, 58.058157956), (12.091312412, 56.039363778), (14.11010659, 52.670448672))
            ThreePointArc((14.11010659, 52.670448672), (22.957846175, 49.181151084), (30.609957309, 43.532886872))
            ThreePointArc((30.609957309, 43.532886872), (34.536698657, 43.609184414), (34.460401115, 47.535925761))
        make_face()
        with BuildLine():
            ThreePointArc((-34.220407145, -47.753045621), (-25.429192431, -54.105658673), (-15.397477434, -58.229472799))
            ThreePointArc((-15.397477434, -58.229472799), (-12.011807829, -56.321247176), (-13.920033452, -52.935577571))
            ThreePointArc((-13.920033452, -52.935577571), (-22.756252751, -49.303205044), (-30.499804191, -43.707643162))
            ThreePointArc((-30.499804191, -43.707643162), (-34.382806898, -43.870042915), (-34.220407145, -47.753045621))
        make_face()
        with BuildLine():
            ThreePointArc((15.323186317, -58.543330734), (27.442964192, -54.741609142), (38.256000225, -48.076749461))
            ThreePointArc((38.256000225, -48.076749461), (38.718203216, -43.846142313), (34.487596067, -43.383939322))
            ThreePointArc((34.487596067, -43.383939322), (24.944035587, -49.266328992), (14.247147792, -52.621719636))
            ThreePointArc((14.247147792, -52.621719636), (11.824361505, -56.120544448), (15.323186317, -58.543330734))
        make_face()
    extrude(amount=-CUT_EXTRUDE_4_DEPTH, mode=Mode.SUBTRACT)


solid = part.part
